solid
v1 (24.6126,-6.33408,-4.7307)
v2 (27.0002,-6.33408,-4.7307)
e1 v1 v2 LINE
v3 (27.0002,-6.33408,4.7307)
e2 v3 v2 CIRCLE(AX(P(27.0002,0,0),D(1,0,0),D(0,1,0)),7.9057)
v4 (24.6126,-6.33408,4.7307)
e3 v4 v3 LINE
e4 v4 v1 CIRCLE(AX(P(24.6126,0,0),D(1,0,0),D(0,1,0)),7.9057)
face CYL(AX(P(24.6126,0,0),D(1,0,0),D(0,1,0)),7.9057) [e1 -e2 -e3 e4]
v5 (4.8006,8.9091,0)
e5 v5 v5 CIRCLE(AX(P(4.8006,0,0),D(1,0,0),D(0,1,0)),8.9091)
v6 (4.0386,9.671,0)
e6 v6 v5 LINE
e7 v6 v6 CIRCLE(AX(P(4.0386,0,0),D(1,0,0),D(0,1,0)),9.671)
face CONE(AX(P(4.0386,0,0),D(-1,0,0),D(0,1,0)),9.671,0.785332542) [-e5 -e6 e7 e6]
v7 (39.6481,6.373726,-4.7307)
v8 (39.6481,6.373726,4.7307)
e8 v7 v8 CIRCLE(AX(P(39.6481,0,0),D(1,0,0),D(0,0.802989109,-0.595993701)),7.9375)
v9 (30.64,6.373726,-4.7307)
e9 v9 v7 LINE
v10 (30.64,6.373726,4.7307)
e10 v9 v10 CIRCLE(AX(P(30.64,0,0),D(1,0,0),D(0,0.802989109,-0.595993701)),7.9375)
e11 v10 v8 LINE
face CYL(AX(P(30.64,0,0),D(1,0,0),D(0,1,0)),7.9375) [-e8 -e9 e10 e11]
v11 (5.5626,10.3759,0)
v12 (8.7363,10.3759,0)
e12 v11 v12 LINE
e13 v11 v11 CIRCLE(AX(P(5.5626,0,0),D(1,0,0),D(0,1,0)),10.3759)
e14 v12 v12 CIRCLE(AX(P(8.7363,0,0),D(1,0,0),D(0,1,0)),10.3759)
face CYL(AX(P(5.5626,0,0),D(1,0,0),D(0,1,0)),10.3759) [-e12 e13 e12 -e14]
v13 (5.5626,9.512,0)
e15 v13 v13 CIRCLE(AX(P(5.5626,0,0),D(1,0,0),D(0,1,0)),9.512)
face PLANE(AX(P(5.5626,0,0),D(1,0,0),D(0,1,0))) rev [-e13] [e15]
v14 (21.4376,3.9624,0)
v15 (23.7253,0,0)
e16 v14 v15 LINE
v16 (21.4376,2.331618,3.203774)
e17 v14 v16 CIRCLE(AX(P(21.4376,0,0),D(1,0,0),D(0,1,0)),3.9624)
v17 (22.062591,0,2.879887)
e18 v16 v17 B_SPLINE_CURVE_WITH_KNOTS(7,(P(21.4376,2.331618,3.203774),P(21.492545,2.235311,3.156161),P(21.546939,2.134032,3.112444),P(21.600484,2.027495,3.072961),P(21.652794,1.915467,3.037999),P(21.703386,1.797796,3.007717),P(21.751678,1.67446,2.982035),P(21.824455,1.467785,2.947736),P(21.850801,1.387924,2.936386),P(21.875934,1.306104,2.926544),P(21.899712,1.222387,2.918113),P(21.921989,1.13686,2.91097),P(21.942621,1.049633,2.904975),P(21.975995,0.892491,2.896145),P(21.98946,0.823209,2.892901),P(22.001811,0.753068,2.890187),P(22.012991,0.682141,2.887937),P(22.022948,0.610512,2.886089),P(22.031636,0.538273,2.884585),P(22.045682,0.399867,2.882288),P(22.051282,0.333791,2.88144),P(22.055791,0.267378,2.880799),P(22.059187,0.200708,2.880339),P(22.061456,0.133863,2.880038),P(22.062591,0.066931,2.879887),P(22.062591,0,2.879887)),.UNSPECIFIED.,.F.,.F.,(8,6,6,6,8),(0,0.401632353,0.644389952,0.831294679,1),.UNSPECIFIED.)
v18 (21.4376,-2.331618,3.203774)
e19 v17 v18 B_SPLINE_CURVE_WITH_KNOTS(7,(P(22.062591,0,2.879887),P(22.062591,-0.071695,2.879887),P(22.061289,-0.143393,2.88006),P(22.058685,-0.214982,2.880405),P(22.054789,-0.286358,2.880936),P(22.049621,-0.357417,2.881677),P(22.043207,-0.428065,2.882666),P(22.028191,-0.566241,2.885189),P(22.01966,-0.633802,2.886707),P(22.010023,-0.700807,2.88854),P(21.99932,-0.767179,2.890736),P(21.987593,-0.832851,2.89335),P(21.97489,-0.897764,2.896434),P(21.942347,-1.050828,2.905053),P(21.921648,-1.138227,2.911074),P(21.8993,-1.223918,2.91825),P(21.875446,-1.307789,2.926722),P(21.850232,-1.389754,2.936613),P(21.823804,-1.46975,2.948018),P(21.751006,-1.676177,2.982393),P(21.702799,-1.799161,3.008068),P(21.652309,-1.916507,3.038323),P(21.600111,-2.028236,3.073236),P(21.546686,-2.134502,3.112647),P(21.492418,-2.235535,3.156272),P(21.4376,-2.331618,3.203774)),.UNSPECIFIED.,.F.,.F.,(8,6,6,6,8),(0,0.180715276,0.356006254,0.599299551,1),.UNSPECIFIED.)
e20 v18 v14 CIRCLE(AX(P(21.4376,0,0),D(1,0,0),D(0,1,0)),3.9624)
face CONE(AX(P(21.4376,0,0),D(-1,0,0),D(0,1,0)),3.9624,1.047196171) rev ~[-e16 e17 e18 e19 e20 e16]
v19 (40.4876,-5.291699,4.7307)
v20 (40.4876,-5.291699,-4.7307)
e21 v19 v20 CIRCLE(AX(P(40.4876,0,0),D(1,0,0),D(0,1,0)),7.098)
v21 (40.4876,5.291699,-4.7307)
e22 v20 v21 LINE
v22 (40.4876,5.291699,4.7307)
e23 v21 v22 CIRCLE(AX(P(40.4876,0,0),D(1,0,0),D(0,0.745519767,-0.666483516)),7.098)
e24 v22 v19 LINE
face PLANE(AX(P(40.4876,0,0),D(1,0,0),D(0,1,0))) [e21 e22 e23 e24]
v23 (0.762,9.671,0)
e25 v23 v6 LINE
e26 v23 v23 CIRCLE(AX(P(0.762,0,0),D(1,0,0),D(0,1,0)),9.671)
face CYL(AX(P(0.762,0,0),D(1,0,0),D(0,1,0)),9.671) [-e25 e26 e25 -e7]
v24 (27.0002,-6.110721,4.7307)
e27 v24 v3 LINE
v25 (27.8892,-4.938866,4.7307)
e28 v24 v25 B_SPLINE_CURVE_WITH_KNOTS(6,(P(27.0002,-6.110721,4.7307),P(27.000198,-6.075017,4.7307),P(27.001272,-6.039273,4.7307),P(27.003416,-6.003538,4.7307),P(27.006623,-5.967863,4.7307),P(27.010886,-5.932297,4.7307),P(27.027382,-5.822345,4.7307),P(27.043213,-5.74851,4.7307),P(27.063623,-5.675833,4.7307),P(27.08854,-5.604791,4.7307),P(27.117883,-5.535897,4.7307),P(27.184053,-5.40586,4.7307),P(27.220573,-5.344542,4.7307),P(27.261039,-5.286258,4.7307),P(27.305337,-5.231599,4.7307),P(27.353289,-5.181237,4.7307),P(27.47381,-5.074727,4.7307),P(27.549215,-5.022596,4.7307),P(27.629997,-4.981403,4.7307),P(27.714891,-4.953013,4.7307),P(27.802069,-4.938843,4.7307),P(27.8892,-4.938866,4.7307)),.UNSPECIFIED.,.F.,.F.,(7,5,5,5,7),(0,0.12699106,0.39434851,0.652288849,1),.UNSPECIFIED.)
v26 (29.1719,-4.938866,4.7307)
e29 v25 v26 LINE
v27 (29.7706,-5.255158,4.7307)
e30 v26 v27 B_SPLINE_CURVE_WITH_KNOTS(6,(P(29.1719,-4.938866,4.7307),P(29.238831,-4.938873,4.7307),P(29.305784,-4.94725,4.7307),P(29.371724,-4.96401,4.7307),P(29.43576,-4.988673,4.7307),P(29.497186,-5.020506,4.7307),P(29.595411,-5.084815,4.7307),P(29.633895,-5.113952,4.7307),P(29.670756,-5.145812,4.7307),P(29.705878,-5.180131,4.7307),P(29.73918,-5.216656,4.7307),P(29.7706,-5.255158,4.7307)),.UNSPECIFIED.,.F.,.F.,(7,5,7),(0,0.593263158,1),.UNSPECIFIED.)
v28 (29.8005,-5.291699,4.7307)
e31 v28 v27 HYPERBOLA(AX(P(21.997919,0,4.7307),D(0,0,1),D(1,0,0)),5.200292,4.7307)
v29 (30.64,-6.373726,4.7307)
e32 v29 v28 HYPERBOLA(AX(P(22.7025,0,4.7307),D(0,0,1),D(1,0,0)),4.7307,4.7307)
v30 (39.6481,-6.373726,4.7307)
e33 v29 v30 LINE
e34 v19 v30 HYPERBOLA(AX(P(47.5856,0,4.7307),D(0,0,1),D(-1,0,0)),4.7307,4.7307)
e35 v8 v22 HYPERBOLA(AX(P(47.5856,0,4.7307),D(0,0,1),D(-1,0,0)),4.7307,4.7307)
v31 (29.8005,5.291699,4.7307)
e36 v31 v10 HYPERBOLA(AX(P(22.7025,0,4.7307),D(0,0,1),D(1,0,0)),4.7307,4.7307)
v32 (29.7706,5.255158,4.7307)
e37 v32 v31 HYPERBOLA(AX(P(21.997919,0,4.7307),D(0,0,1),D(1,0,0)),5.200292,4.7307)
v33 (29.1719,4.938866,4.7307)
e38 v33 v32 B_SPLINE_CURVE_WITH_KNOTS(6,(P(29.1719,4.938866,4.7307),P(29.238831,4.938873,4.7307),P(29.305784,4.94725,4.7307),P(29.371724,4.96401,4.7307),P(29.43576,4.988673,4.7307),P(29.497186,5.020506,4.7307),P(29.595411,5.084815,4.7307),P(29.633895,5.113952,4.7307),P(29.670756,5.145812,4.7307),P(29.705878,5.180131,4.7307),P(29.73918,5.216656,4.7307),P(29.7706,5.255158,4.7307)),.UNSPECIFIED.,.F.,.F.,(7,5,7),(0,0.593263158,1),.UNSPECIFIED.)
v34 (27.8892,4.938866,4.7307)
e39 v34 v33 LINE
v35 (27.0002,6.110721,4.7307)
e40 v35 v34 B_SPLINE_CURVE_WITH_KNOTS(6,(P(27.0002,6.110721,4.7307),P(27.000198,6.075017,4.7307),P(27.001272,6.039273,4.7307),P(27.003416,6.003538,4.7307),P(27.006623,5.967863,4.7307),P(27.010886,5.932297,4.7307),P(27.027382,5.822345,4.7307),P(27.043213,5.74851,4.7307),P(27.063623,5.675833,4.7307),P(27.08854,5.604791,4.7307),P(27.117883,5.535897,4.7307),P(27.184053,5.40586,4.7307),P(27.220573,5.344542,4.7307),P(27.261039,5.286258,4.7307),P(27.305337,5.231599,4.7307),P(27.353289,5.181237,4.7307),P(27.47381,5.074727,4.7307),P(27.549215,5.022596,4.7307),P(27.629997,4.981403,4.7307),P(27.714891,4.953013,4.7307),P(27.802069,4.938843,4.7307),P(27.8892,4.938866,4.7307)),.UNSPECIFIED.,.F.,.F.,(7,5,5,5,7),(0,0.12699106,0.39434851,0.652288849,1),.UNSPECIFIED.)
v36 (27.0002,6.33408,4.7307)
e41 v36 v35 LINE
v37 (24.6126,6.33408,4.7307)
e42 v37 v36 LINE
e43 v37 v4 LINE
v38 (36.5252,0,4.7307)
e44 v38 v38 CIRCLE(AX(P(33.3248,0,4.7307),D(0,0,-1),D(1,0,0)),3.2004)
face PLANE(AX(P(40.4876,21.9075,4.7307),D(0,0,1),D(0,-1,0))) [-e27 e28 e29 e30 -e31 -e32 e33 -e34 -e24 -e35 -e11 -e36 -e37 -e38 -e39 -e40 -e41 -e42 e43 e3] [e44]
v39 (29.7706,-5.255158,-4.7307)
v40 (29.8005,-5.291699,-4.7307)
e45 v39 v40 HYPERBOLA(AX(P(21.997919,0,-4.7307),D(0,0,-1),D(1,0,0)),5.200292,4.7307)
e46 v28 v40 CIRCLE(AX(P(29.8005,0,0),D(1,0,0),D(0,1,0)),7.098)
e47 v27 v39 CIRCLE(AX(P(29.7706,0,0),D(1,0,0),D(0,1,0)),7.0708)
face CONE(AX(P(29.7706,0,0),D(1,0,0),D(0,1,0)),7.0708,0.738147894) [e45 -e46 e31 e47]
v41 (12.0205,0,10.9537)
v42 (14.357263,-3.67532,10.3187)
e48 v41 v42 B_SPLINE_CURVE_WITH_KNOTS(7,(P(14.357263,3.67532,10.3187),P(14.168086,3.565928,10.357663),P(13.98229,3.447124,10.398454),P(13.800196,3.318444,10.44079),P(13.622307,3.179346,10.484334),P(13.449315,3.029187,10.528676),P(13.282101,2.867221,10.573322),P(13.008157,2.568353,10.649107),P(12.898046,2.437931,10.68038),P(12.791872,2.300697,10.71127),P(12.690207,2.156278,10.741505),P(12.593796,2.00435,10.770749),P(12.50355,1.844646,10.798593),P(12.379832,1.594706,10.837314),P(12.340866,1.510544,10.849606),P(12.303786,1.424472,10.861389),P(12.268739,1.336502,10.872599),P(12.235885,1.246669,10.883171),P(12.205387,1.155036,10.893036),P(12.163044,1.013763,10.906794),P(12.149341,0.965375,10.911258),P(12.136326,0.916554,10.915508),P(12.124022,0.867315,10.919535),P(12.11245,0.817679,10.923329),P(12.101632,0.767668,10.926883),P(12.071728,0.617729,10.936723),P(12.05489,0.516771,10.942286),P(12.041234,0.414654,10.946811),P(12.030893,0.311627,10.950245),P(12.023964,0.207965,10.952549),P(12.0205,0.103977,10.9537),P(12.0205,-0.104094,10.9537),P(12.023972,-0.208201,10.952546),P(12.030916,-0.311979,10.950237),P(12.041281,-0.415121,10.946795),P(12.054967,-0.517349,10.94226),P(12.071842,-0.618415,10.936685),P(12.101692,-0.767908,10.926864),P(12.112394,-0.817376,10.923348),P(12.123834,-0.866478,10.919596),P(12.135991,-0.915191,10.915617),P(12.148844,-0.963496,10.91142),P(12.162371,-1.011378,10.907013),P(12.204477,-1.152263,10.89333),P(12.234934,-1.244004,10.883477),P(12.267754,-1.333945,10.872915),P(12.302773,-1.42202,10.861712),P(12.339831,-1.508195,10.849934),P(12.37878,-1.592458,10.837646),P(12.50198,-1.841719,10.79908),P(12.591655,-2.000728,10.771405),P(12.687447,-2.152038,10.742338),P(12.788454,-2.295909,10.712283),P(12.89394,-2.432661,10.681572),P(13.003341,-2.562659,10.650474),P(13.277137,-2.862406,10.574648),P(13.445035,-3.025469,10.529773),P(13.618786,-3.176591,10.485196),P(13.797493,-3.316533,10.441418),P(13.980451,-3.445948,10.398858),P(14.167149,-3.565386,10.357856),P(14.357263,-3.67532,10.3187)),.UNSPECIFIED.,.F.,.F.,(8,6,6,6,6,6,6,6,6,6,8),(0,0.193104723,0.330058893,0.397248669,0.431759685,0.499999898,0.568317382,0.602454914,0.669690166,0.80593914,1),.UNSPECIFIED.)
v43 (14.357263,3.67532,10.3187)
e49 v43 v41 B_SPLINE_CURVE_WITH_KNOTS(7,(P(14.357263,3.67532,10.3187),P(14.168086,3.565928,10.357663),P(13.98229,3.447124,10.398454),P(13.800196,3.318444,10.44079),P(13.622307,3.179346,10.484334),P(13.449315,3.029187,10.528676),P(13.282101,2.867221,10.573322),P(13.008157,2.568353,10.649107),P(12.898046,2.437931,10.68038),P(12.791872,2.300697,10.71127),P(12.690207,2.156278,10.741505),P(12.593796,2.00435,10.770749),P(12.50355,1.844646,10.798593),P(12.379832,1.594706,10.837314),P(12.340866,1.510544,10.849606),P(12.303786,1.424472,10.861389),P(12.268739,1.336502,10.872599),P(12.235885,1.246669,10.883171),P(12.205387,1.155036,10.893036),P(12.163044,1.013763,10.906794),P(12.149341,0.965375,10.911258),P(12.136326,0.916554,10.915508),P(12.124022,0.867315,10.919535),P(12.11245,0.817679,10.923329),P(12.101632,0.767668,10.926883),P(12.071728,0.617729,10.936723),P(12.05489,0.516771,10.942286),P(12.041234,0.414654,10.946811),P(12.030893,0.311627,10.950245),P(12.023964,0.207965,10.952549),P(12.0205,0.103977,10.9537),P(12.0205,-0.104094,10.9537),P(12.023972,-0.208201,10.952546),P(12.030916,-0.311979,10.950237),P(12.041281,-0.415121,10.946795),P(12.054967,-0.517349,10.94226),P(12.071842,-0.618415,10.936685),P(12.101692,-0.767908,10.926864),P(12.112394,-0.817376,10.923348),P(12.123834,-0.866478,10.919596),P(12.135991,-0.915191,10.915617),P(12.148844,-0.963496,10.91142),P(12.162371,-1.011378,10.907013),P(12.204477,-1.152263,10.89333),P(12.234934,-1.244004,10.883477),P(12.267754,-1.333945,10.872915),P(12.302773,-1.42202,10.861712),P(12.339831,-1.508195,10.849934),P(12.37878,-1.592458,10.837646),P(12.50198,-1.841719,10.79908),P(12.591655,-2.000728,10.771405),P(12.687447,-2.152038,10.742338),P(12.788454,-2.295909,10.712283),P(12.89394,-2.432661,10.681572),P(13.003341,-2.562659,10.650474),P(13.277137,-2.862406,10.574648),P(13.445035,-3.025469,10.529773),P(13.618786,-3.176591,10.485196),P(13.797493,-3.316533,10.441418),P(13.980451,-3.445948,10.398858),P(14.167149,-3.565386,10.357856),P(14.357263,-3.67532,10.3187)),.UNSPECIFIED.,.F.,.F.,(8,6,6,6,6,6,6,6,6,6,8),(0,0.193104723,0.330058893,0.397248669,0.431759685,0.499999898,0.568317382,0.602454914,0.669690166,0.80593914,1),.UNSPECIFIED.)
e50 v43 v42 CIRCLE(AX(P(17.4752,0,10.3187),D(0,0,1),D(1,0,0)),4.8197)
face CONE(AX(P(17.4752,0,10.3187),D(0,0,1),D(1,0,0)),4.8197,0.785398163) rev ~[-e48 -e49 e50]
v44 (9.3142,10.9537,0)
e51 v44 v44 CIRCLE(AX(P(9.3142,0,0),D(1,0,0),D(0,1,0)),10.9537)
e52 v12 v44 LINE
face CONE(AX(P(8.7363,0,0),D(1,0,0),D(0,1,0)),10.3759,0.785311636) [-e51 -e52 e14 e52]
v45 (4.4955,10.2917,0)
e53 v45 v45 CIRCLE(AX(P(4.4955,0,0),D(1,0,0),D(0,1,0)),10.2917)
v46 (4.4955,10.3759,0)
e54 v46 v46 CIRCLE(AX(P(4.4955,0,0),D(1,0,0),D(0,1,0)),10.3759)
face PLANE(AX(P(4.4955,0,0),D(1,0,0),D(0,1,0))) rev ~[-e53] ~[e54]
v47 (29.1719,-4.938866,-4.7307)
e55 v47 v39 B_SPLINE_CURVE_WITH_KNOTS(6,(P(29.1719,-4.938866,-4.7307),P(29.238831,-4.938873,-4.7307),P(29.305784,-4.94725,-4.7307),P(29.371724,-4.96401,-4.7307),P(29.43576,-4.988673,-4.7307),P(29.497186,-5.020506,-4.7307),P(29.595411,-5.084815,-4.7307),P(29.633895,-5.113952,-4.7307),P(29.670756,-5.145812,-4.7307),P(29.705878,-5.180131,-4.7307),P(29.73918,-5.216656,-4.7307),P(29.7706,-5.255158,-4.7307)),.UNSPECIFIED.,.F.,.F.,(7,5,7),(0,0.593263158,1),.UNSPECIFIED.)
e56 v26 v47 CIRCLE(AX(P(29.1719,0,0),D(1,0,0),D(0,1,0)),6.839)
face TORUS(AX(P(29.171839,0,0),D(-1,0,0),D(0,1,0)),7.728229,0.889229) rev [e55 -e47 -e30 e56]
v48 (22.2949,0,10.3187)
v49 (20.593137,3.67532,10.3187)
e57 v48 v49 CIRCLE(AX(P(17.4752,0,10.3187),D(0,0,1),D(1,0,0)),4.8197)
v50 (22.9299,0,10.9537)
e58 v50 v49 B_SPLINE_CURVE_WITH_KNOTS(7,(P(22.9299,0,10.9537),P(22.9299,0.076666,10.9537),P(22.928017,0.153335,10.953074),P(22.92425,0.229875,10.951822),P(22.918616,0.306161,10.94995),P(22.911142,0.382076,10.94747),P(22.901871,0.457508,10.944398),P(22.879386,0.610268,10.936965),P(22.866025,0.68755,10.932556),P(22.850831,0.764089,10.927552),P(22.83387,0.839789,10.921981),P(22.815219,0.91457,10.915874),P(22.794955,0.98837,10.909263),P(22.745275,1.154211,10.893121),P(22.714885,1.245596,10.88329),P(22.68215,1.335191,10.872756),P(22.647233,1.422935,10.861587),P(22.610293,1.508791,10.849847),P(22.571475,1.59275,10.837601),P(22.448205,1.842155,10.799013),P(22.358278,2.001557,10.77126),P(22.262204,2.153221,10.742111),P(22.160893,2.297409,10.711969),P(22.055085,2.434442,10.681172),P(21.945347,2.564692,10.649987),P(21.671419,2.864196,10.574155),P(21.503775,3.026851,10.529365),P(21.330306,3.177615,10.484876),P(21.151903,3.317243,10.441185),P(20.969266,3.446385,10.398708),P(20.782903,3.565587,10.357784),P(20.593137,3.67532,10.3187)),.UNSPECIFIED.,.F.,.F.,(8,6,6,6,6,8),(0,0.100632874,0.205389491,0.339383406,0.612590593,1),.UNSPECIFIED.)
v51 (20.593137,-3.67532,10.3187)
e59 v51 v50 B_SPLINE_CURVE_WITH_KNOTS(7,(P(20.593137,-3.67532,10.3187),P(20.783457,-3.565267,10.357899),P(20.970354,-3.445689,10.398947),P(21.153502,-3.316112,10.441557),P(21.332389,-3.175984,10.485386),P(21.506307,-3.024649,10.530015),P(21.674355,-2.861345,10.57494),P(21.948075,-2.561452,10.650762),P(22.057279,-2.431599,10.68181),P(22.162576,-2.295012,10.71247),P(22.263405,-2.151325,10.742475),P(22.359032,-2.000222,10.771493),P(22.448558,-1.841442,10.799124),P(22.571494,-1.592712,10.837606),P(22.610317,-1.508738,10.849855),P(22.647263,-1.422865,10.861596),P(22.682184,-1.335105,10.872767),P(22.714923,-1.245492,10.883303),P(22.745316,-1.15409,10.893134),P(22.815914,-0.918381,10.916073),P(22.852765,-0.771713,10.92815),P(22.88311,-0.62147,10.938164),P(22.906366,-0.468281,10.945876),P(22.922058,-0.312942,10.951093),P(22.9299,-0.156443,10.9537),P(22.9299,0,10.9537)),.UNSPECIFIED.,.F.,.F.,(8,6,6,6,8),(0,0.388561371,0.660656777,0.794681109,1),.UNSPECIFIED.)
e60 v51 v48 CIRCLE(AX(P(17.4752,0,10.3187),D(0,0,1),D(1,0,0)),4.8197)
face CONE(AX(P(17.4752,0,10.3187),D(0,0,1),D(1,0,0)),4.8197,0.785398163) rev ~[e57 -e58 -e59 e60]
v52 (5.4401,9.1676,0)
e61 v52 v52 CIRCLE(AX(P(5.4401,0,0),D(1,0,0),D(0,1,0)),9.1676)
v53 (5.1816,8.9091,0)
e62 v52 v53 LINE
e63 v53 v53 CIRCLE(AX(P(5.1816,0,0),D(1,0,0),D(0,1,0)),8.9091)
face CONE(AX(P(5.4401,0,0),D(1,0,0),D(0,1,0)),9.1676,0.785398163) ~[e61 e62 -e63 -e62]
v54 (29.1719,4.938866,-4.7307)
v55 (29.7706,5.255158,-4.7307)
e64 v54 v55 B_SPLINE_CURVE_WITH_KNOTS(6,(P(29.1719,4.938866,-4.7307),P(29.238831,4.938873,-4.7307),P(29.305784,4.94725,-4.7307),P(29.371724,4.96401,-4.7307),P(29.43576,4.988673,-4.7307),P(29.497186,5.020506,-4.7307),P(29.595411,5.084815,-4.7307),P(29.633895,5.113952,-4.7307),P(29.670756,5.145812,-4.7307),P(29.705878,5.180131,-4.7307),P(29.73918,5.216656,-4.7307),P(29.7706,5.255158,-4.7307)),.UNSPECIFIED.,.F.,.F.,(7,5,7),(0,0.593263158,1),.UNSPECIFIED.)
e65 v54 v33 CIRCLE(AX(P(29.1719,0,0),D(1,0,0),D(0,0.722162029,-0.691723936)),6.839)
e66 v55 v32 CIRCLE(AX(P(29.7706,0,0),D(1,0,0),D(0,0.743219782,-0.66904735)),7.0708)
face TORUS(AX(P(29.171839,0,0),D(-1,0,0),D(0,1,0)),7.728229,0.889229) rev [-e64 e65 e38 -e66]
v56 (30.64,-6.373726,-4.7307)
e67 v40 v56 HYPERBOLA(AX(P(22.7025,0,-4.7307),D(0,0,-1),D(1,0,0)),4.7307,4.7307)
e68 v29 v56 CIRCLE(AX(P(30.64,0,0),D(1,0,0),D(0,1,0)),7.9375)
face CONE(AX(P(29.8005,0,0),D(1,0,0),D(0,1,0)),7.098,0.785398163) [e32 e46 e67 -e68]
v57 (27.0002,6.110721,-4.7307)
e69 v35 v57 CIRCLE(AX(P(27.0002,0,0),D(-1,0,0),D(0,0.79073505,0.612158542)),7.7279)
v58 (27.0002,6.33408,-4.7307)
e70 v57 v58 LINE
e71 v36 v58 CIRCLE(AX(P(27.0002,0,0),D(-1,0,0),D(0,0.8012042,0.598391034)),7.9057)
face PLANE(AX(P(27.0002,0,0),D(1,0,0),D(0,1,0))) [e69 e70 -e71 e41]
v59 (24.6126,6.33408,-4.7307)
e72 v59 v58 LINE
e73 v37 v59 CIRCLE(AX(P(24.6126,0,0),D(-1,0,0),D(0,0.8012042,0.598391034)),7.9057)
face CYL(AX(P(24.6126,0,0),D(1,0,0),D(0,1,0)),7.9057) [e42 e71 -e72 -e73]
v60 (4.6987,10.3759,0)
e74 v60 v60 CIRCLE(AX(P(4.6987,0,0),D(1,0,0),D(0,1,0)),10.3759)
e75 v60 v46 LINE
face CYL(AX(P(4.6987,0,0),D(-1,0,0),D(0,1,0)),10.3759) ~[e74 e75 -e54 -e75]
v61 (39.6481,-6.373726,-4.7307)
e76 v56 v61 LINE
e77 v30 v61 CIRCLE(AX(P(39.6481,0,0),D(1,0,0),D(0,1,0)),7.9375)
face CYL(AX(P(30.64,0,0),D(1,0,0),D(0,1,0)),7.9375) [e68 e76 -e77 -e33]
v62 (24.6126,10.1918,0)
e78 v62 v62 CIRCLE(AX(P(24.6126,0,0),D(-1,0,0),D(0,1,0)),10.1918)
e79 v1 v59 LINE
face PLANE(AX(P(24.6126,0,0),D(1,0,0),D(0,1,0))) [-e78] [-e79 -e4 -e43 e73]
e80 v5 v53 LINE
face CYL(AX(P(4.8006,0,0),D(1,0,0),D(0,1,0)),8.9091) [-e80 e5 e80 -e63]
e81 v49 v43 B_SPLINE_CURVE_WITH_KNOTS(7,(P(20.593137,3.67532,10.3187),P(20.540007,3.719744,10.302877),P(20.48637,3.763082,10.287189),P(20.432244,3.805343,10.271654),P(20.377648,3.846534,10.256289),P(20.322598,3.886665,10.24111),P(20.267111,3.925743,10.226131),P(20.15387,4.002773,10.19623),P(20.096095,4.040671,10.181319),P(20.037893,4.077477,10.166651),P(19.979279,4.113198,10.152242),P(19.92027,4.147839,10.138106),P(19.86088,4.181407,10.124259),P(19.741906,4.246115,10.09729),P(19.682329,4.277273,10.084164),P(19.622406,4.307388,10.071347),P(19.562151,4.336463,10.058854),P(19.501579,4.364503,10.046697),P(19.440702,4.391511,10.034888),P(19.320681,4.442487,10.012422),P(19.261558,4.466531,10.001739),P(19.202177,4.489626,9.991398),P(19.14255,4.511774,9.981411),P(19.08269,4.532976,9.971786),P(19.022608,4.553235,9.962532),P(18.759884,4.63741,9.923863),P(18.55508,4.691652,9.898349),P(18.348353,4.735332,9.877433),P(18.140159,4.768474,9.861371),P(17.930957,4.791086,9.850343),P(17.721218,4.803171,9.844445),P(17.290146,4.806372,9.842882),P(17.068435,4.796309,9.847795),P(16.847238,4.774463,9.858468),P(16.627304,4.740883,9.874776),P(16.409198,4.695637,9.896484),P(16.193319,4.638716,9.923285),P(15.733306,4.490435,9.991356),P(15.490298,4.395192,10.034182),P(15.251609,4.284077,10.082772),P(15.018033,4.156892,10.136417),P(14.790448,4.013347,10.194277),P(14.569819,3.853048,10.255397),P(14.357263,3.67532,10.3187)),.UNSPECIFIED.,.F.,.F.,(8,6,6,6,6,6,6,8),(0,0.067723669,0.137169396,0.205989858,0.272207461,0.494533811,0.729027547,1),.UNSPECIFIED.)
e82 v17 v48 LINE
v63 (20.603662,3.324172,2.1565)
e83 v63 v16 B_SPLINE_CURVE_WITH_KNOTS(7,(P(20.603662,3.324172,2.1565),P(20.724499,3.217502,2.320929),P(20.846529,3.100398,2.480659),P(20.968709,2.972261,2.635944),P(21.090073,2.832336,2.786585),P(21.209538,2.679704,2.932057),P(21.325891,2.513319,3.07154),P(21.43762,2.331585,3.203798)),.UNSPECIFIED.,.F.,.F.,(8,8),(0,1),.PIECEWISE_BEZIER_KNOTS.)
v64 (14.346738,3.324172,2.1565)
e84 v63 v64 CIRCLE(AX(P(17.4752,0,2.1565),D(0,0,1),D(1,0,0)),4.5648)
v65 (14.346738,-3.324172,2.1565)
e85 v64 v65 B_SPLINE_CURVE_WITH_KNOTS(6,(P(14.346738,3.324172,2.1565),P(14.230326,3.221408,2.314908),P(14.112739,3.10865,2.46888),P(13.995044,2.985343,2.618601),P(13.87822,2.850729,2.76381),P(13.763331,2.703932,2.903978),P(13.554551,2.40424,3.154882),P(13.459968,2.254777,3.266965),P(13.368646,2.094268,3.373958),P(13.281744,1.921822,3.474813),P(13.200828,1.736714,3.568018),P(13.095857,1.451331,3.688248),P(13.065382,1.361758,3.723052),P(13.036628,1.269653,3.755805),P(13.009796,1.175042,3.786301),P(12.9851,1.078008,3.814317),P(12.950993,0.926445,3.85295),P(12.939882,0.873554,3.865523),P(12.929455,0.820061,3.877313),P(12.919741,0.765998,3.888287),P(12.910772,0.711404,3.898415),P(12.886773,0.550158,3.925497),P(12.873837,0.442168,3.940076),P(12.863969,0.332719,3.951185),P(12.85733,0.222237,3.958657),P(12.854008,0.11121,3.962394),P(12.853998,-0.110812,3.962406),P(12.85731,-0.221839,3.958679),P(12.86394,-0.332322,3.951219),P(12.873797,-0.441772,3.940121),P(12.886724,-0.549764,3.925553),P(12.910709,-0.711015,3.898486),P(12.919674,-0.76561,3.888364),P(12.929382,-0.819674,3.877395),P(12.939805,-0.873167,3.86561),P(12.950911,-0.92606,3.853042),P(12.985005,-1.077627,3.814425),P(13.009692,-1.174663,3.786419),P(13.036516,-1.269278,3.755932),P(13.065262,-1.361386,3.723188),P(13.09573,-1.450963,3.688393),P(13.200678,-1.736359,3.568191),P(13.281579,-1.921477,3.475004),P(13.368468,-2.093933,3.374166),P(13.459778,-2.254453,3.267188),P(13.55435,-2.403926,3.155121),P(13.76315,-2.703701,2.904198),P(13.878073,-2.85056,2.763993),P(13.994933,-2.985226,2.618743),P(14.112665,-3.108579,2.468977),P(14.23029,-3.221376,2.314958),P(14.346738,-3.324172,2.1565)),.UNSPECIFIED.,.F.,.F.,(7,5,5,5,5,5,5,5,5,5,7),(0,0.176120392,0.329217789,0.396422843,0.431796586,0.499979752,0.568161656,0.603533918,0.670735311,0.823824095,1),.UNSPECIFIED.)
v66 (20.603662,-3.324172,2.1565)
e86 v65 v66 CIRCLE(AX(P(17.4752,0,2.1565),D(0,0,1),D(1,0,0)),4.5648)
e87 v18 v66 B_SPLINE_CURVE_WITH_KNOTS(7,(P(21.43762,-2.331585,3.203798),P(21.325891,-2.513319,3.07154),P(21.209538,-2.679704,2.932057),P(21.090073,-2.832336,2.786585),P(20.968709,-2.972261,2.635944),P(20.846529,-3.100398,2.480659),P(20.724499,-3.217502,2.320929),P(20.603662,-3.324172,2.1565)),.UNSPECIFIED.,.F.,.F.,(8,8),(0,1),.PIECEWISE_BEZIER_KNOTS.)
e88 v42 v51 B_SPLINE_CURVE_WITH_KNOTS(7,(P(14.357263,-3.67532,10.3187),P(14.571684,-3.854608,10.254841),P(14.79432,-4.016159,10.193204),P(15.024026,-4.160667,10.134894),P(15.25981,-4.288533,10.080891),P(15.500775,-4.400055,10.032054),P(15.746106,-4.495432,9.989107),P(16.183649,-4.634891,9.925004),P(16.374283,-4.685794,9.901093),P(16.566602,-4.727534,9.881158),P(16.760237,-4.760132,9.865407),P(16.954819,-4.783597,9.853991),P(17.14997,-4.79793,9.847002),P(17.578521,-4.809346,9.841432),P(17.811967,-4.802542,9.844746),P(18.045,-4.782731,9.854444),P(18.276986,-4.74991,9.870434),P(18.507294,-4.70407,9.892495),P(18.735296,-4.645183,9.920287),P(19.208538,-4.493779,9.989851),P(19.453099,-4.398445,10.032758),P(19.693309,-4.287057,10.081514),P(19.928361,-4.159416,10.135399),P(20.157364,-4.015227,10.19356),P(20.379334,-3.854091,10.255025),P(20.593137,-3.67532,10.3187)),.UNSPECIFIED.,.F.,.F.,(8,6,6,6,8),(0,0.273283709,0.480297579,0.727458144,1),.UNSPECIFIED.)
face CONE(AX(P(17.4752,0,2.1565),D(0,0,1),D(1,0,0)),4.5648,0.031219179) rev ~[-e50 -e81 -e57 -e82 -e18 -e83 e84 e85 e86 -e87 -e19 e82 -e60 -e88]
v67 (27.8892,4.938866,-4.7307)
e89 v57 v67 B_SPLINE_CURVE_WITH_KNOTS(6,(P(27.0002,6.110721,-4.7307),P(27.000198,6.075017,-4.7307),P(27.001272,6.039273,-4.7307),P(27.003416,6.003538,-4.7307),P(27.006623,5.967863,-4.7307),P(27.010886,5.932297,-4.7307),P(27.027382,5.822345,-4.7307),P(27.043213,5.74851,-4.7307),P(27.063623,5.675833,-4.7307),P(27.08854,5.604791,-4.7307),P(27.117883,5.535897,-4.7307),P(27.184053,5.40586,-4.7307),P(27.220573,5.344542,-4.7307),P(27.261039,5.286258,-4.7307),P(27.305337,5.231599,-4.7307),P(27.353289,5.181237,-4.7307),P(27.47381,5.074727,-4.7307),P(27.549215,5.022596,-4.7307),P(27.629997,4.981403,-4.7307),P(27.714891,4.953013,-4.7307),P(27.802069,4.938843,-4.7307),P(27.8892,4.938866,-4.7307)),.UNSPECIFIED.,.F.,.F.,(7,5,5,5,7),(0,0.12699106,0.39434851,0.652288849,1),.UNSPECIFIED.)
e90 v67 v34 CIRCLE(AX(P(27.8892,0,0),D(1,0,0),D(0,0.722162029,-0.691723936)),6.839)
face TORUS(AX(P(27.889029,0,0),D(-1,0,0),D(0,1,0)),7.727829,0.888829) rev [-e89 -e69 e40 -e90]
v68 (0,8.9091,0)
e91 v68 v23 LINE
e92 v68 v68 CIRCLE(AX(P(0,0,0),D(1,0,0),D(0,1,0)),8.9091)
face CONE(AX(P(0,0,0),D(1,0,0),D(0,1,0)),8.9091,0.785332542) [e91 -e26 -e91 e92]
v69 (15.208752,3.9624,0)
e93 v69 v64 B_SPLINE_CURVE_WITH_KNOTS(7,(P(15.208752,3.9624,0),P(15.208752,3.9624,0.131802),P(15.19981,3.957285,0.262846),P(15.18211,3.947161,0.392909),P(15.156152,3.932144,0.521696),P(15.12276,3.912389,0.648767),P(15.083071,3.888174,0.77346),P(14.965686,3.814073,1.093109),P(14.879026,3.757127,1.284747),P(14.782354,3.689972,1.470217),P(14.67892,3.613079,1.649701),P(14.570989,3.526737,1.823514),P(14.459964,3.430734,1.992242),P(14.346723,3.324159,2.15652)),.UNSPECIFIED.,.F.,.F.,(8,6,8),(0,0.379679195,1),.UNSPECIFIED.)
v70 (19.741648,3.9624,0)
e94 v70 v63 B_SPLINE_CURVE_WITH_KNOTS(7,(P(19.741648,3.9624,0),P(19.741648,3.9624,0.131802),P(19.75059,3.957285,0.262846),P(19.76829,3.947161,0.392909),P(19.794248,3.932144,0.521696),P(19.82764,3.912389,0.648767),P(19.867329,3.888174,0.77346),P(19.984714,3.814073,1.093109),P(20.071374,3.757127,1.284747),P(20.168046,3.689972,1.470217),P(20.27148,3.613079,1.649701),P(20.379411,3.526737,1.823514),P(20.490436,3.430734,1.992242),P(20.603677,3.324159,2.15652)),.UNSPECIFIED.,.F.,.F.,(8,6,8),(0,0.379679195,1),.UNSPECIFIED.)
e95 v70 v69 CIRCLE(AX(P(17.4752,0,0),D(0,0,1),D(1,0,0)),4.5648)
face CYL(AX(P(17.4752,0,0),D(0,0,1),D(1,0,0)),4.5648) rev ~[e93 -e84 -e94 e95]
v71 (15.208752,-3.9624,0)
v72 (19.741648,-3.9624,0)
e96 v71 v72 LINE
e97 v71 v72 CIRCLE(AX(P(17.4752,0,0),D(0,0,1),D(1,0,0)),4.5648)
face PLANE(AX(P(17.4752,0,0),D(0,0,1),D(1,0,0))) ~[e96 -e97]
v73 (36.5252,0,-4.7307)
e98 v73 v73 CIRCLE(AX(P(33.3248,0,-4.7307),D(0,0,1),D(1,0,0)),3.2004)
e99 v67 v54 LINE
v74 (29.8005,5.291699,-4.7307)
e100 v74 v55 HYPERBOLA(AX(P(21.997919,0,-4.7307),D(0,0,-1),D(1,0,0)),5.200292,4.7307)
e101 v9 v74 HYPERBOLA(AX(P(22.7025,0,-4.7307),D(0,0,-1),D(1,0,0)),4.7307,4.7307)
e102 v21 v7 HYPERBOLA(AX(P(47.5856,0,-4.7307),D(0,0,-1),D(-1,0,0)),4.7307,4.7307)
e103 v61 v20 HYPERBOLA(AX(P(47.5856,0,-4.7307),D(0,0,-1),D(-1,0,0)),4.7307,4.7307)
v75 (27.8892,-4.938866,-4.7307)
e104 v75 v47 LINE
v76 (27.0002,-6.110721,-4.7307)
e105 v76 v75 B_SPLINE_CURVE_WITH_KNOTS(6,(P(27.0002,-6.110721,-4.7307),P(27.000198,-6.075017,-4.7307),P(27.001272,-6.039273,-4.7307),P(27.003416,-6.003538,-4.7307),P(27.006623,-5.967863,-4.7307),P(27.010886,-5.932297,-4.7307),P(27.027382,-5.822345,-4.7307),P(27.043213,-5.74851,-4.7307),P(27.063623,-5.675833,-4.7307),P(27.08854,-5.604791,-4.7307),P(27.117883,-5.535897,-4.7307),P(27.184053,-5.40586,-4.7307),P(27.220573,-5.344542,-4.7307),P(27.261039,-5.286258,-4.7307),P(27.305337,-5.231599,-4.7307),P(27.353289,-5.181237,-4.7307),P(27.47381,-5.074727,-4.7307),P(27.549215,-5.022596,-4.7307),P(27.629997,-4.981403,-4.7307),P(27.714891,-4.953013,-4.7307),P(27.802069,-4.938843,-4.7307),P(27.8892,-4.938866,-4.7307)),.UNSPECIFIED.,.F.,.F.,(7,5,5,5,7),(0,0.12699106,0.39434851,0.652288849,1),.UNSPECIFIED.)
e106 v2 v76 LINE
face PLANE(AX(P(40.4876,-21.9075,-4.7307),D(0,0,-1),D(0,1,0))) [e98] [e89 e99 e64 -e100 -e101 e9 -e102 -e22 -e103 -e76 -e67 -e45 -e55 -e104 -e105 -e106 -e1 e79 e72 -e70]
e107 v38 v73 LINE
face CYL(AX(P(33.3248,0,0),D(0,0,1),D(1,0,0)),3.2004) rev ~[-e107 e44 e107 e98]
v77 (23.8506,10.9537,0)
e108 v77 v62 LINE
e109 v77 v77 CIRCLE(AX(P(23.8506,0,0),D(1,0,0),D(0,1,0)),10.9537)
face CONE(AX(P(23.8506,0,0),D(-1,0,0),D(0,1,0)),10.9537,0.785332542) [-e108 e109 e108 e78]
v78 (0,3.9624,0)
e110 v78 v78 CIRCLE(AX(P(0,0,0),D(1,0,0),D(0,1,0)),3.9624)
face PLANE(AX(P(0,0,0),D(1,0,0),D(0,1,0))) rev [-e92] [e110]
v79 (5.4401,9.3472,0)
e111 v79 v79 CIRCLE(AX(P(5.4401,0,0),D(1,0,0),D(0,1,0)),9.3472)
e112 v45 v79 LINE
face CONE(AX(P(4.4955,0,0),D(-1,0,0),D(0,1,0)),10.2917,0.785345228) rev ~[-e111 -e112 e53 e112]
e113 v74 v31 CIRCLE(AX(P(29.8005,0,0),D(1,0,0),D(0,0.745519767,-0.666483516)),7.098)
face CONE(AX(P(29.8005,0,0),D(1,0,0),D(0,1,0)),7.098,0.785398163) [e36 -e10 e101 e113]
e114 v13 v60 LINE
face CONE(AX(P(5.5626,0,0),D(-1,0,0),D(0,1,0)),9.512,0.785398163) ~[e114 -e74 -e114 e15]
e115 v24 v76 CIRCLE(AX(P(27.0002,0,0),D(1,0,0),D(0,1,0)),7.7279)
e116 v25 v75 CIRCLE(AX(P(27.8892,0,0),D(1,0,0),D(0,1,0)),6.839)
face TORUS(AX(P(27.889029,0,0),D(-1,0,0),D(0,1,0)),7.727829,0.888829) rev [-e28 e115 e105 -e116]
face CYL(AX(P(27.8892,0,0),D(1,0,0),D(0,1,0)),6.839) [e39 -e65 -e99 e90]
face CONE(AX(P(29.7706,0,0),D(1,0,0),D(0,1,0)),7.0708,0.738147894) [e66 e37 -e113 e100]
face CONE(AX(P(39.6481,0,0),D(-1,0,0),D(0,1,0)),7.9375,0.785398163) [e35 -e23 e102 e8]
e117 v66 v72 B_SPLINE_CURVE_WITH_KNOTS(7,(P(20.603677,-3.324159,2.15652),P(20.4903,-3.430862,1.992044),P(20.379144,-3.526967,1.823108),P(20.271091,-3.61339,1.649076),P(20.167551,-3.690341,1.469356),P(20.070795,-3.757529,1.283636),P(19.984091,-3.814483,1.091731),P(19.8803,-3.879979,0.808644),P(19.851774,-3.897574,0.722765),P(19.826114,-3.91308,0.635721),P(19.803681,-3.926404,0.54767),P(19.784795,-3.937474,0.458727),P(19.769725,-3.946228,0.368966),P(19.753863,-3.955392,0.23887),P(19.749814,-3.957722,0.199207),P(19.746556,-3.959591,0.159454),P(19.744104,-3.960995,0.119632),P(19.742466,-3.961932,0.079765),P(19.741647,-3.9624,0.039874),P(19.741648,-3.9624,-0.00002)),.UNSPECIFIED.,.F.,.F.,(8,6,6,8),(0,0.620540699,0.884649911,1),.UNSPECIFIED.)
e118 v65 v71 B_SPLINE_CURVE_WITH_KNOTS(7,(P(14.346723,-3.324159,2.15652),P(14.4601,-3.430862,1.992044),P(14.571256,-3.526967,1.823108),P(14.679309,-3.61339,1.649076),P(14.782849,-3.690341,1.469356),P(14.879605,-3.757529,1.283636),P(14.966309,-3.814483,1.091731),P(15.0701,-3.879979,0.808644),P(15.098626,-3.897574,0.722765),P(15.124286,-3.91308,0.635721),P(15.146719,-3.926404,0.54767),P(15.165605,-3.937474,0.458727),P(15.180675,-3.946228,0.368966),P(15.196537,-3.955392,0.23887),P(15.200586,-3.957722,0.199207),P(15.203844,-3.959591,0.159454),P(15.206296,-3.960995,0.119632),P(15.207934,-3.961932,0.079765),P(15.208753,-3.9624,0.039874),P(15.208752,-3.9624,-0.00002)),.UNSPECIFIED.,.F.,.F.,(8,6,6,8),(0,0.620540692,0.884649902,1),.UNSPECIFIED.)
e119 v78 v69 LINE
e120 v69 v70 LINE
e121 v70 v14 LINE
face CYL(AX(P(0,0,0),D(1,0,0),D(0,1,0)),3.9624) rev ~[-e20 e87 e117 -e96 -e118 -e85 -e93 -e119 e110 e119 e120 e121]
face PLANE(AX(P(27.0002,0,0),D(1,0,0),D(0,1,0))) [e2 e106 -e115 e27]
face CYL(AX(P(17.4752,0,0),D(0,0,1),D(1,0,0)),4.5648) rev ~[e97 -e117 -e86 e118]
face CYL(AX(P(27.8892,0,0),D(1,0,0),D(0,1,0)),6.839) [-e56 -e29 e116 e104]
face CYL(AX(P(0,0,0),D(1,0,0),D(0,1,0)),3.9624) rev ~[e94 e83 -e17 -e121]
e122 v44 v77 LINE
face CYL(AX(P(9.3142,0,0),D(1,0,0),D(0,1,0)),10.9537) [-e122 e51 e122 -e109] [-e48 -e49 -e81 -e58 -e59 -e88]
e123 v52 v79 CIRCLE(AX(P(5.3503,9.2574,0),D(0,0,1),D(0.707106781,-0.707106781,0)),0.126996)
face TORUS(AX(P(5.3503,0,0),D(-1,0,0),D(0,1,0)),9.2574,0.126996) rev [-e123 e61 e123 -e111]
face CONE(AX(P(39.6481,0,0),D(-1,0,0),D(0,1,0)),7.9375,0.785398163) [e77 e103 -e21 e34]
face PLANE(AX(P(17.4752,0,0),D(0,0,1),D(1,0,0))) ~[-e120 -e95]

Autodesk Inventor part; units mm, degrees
sketch "Sketch_8" plane through (0, 0, 0) normal (0, 0, 1) x (1, 0, 0)
  line L0 (24.6126, 0) -> (0, 0)
  line L1 (0, 0) -> (0, 8.9091)
  line L2 (0, 8.9091) -> (0.762, 9.671)
  line L3 (0.762, 9.671) -> (4.0386, 9.671)
  line L4 (4.0386, 9.671) -> (4.8006, 8.9091)
  line L5 (4.8006, 8.9091) -> (5.5626, 8.9091)
  line L6 (5.5626, 8.9091) -> (5.5626, 10.3759)
  line L7 (5.5626, 10.3759) -> (8.7363, 10.3759)
  line L8 (8.7363, 10.3759) -> (9.3142, 10.9537)
  line L9 (9.3142, 10.9537) -> (23.8506, 10.9537)
  line L10 (23.8506, 10.9537) -> (24.6126, 10.1918)
  line L11 (24.6126, 10.1918) -> (24.6126, 0)
  line L12 (24.6126, 0) -> (0, 0)
revolve "Revolution1" add sketch "Sketch_8" angle 360 about axis through (24.6126, 0, 0) along (1, 0, 0)
sketch "Sketch_15" plane through (0, 0, 0) normal (0, 0, 1) x (1, 0, 0)
  line L0 (40.4876, 0) -> (24.6126, 0)
  line L1 (24.6126, 0) -> (24.6126, 7.9057)
  line L2 (24.6126, 7.9057) -> (27.0002, 7.9057)
  line L3 (27.0002, 7.9057) -> (27.0002, 7.7279)
  arc A0 (27.0002, 7.7279) -> (27.8892, 6.839) centre (27.8892, 7.7279) ccw
  line L4 (27.8892, 6.839) -> (29.1719, 6.839)
  arc A1 (29.1719, 6.839) -> (29.7706, 7.0708) centre (29.1719, 7.7279) ccw
  line L5 (29.7706, 7.0708) -> (29.8005, 7.098)
  line L6 (29.8005, 7.098) -> (30.64, 7.9375)
  line L7 (30.64, 7.9375) -> (39.6481, 7.9375)
  line L8 (39.6481, 7.9375) -> (40.4876, 7.098)
  line L9 (40.4876, 7.098) -> (40.4876, 0)
  line L10 (40.4876, 0) -> (24.6126, 0)
revolve "Revolution2" add sketch "Sketch_15" angle 360 about axis through (40.4876, 0, 0) along (1, 0, 0)
thread "Thread1" size "5/8-18 UNF" class "3A" standard "ANSI Unified Screw Threads" full length
sketch "Sketch_9" plane through (40.4876, 0, 0) normal (1, 0, 0) x (0, 0, -1)
  line L0 (-21.9075, -43.815) -> (21.9075, -43.815)
  line L1 (21.9075, -43.815) -> (21.9075, 43.815)
  line L2 (21.9075, 43.815) -> (-21.9075, 43.815)
  line L3 (-21.9075, 43.815) -> (-21.9075, -43.815)
  line L4 (-4.7307, -21.9075) -> (4.7307, -21.9075)
  line L5 (4.7307, -21.9075) -> (4.7307, 21.9075)
  line L6 (4.7307, 21.9075) -> (-4.7307, 21.9075)
  line L7 (-4.7307, 21.9075) -> (-4.7307, -21.9075)
extrude "Extrusion1" cut sketch "Sketch_9" against normal blind 15.875
sketch "Sketch_13" plane through (0, 0, 0) normal (0, 0, 1) x (1, 0, 0)
  line L0 (23.7253, 0) -> (0, 0)
  line L1 (0, 0) -> (0, 3.9624)
  line L2 (0, 3.9624) -> (21.4376, 3.9624)
  line L3 (21.4376, 3.9624) -> (23.7253, 0)
  line L4 (23.7253, 0) -> (0, 0)
revolve "Revolution3" cut sketch "Sketch_13" angle 360 about axis through (23.7253, 0, 0) along (1, 0, 0)
sketch "Sketch_19" plane through (0, 0, 0) normal (0, 1, 0) x (-1, 0, 0)
  line L0 (-17.4752, 10.9537) -> (-17.4752, 0)
  line L1 (-17.4752, 0) -> (-22.04, 0)
  line L2 (-22.04, 0) -> (-22.04, 2.1565)
  line L3 (-22.04, 2.1565) -> (-22.2949, 10.3187)
  line L4 (-22.2949, 10.3187) -> (-22.9299, 10.9537)
  line L5 (-22.9299, 10.9537) -> (-17.4752, 10.9537)
  line L6 (-17.4752, 10.9537) -> (-17.4752, 0)
revolve "Revolution4" cut sketch "Sketch_19" angle 360 about axis through (17.4752, 0, 10.9537) along (0, 0, 1)
sketch "Sketch_24" plane through (0, 0, 0) normal (0, 0, 1) x (1, 0, 0)
  line L0 (5.5626, 0) -> (4.8006, 0)
  line L1 (4.4955, 10.2917) -> (5.4401, 9.3472)
  arc A0 (5.4401, 9.1676) -> (5.4401, 9.3472) centre (5.3503, 9.2574) ccw
  line L2 (5.4401, 9.1676) -> (5.1816, 8.9091)
  line L3 (5.1816, 8.9091) -> (4.8006, 8.9091)
  line L4 (4.8006, 8.9091) -> (4.8006, 8.655)
  line L5 (4.8006, 8.655) -> (5.5626, 8.655)
  line L6 (5.5626, 8.655) -> (5.5626, 9.512)
  line L7 (5.5626, 9.512) -> (4.6987, 10.3759)
  line L8 (4.6987, 10.3759) -> (4.4955, 10.3759)
  line L9 (4.4955, 10.3759) -> (4.4955, 10.2917)
revolve "Revolution5" add sketch "Sketch_24" angle 360 about axis through (5.5626, 0, 0) along (1, 0, 0)
sketch "Sketch_43" plane through (0, 0, 0) normal (0, 0, 1) x (1, 0, 0)
  circle A0 centre (33.3248, 0) radius 3.2004
extrude "Extrusion2" cut sketch "Sketch_43" along normal mid plane 14.1922
ref_plane "c1_XY" through (24.6126, 7.9057, 0) normal (0, 0, 1) x (1, 0, 0)
ref_plane "c1_YZ" through (24.6126, 7.9057, 0) normal (1, 0, 0) x (0, 1, 0)
ref_plane "c1_ZX" through (24.6126, 7.9057, 0) normal (0, 1, 0) x (0, 0, 1)
ref_plane "cc1_XY" through (24.6126, 0, 0) normal (0, 0, 1) x (1, 0, 0)
ref_plane "cc1_YZ" through (24.6126, 0, 0) normal (1, 0, 0) x (0, 1, 0)
ref_plane "cc1_ZX" through (24.6126, 0, 0) normal (0, 1, 0) x (0, 0, 1)
ref_plane "c2_XY" through (24.6126, -7.9057, 0) normal (0, 0, 1) x (1, 0, 0)
ref_plane "c2_YZ" through (24.6126, -7.9057, 0) normal (1, 0, 0) x (0, 1, 0)
ref_plane "c2_ZX" through (24.6126, -7.9057, 0) normal (0, 1, 0) x (0, 0, 1)
ref_plane "cc2_XY" through (27.0002, 0, 0) normal (0, 0, 1) x (1, 0, 0)
ref_plane "cc2_YZ" through (27.0002, 0, 0) normal (1, 0, 0) x (0, 1, 0)
ref_plane "cc2_ZX" through (27.0002, 0, 0) normal (0, 1, 0) x (0, 0, 1)
ref_plane "to_tube_XY" through (4.8006, 0, 0) normal (1, 0, 0) x (0, 0, -1)
ref_plane "to_tube_YZ" through (4.8006, 0, 0) normal (0, 0, -1) x (0, 1, 0)
ref_plane "to_tube_ZX" through (4.8006, 0, 0) normal (0, 1, 0) x (1, 0, 0)
ref_plane "to_nut_XY" through (24.6126, 0, 0) normal (1, 0, 0) x (0, 0, -1)
ref_plane "to_nut_YZ" through (24.6126, 0, 0) normal (0, 0, -1) x (0, 1, 0)
ref_plane "to_nut_ZX" through (24.6126, 0, 0) normal (0, 1, 0) x (1, 0, 0)
ref_plane "lovra1_XY" through (35.7124, 0, 0) normal (1, 0, 0) x (0, 0, -1)
ref_plane "lovra1_YZ" through (35.7124, 0, 0) normal (0, 0, -1) x (0, 1, 0)
ref_plane "lovra1_ZX" through (35.7124, 0, 0) normal (0, 1, 0) x (1, 0, 0)
ref_plane "lovra2_XY" through (35.7124, 7.874, 0) normal (1, 0, 0) x (0, 0, -1)
ref_plane "lovra2_YZ" through (35.7124, 7.874, 0) normal (0, 0, -1) x (0, 1, 0)
ref_plane "lovra2_ZX" through (35.7124, 7.874, 0) normal (0, 1, 0) x (1, 0, 0)
ref_plane "lovra3_XY" through (35.7124, -7.874, 0) normal (1, 0, 0) x (0, 0, -1)
ref_plane "lovra3_YZ" through (35.7124, -7.874, 0) normal (0, 0, -1) x (0, 1, 0)
ref_plane "lovra3_ZX" through (35.7124, -7.874, 0) normal (0, 1, 0) x (1, 0, 0)
ref_plane "to_pin_XY" through (33.3248, 0, 0) normal (0, 0, 1) x (1, 0, 0)
ref_plane "to_pin_YZ" through (33.3248, 0, 0) normal (1, 0, 0) x (0, 1, 0)
ref_plane "to_pin_ZX" through (33.3248, 0, 0) normal (0, 1, 0) x (0, 0, 1)
ref_plane "olen_XY" through (33.3248, 0, 0) normal (1, 0, 0) x (0, 0, -1)
ref_plane "olen_YZ" through (33.3248, 0, 0) normal (0, 0, -1) x (0, 1, 0)
ref_plane "olen_ZX" through (33.3248, 0, 0) normal (0, 1, 0) x (1, 0, 0)
ref_plane "thd1_XY" through (40.4876, 0, 7.9375) normal (1, 0, 0) x (0, 0, -1)
ref_plane "thd1_YZ" through (40.4876, 0, 7.9375) normal (0, 0, -1) x (0, 1, 0)
ref_plane "thd1_ZX" through (40.4876, 0, 7.9375) normal (0, 1, 0) x (1, 0, 0)
ref_plane "p1_XY" through (40.4876, 0, 4.7307) normal (1, 0, 0) x (0, 0, -1)
ref_plane "p1_YZ" through (40.4876, 0, 4.7307) normal (0, 0, -1) x (0, 1, 0)
ref_plane "p1_ZX" through (40.4876, 0, 4.7307) normal (0, 1, 0) x (1, 0, 0)
ref_plane "thd2_XY" through (40.4876, 0, -7.9375) normal (1, 0, 0) x (0, 0, -1)
ref_plane "thd2_YZ" through (40.4876, 0, -7.9375) normal (0, 0, -1) x (0, 1, 0)
ref_plane "thd2_ZX" through (40.4876, 0, -7.9375) normal (0, 1, 0) x (1, 0, 0)
ref_plane "p2_XY" through (40.4876, 0, -4.7307) normal (1, 0, 0) x (0, 0, -1)
ref_plane "p2_YZ" through (40.4876, 0, -4.7307) normal (0, 0, -1) x (0, 1, 0)
ref_plane "p2_ZX" through (40.4876, 0, -4.7307) normal (0, 1, 0) x (1, 0, 0)
ref_plane "port2_XY" through (40.4876, 0, 0) normal (1, 0, 0) x (0, 0, -1)
ref_plane "port2_YZ" through (40.4876, 0, 0) normal (0, 0, -1) x (0, 1, 0)
ref_plane "port2_ZX" through (40.4876, 0, 0) normal (0, 1, 0) x (1, 0, 0)
ref_plane "port_XY" through (17.4752, 0, 0) normal (0, 0, 1) x (1, 0, 0)
ref_plane "port_YZ" through (17.4752, 0, 0) normal (1, 0, 0) x (0, 1, 0)
ref_plane "port_ZX" through (17.4752, 0, 0) normal (0, 1, 0) x (0, 0, 1)
ref_plane "1_XY" through (24.6126, 0, 0) normal (1, 0, 0) x (0, 0, -1)
ref_plane "1_YZ" through (24.6126, 0, 0) normal (0, 0, -1) x (0, 1, 0)
ref_plane "1_ZX" through (24.6126, 0, 0) normal (0, 1, 0) x (1, 0, 0)
ref_plane "lovra21_XY" through (0, 0, 5.2705) normal (1, 0, 0) x (0, 0, -1)
ref_plane "lovra21_YZ" through (0, 0, 5.2705) normal (0, 0, -1) x (0, 1, 0)
ref_plane "lovra21_ZX" through (0, 0, 5.2705) normal (0, 1, 0) x (1, 0, 0)
ref_plane "lovra22_XY" through (0, 0, -5.2705) normal (1, 0, 0) x (0, 0, -1)
ref_plane "lovra22_YZ" through (0, 0, -5.2705) normal (0, 0, -1) x (0, 1, 0)
ref_plane "lovra22_ZX" through (0, 0, -5.2705) normal (0, 1, 0) x (1, 0, 0)
ref_plane "to_screw_XY" through (17.4752, 2.032, -6.0452) normal (0, 1, 0) x (1, 0, 0)
ref_plane "to_screw_YZ" through (17.4752, 2.032, -6.0452) normal (1, 0, 0) x (0, 0, -1)
ref_plane "to_screw_ZX" through (17.4752, 2.032, -6.0452) normal (0, 0, -1) x (0, 1, 0)
ref_plane "to_mounting_bracket_XY" through (24.6126, 0, 0) normal (1, 0, 0) x (0, 0, -1)
ref_plane "to_mounting_bracket_YZ" through (24.6126, 0, 0) normal (0, 0, -1) x (0, 1, 0)
ref_plane "to_mounting_bracket_ZX" through (24.6126, 0, 0) normal (0, 1, 0) x (1, 0, 0)
properties part number "04P0010_rear_head"
